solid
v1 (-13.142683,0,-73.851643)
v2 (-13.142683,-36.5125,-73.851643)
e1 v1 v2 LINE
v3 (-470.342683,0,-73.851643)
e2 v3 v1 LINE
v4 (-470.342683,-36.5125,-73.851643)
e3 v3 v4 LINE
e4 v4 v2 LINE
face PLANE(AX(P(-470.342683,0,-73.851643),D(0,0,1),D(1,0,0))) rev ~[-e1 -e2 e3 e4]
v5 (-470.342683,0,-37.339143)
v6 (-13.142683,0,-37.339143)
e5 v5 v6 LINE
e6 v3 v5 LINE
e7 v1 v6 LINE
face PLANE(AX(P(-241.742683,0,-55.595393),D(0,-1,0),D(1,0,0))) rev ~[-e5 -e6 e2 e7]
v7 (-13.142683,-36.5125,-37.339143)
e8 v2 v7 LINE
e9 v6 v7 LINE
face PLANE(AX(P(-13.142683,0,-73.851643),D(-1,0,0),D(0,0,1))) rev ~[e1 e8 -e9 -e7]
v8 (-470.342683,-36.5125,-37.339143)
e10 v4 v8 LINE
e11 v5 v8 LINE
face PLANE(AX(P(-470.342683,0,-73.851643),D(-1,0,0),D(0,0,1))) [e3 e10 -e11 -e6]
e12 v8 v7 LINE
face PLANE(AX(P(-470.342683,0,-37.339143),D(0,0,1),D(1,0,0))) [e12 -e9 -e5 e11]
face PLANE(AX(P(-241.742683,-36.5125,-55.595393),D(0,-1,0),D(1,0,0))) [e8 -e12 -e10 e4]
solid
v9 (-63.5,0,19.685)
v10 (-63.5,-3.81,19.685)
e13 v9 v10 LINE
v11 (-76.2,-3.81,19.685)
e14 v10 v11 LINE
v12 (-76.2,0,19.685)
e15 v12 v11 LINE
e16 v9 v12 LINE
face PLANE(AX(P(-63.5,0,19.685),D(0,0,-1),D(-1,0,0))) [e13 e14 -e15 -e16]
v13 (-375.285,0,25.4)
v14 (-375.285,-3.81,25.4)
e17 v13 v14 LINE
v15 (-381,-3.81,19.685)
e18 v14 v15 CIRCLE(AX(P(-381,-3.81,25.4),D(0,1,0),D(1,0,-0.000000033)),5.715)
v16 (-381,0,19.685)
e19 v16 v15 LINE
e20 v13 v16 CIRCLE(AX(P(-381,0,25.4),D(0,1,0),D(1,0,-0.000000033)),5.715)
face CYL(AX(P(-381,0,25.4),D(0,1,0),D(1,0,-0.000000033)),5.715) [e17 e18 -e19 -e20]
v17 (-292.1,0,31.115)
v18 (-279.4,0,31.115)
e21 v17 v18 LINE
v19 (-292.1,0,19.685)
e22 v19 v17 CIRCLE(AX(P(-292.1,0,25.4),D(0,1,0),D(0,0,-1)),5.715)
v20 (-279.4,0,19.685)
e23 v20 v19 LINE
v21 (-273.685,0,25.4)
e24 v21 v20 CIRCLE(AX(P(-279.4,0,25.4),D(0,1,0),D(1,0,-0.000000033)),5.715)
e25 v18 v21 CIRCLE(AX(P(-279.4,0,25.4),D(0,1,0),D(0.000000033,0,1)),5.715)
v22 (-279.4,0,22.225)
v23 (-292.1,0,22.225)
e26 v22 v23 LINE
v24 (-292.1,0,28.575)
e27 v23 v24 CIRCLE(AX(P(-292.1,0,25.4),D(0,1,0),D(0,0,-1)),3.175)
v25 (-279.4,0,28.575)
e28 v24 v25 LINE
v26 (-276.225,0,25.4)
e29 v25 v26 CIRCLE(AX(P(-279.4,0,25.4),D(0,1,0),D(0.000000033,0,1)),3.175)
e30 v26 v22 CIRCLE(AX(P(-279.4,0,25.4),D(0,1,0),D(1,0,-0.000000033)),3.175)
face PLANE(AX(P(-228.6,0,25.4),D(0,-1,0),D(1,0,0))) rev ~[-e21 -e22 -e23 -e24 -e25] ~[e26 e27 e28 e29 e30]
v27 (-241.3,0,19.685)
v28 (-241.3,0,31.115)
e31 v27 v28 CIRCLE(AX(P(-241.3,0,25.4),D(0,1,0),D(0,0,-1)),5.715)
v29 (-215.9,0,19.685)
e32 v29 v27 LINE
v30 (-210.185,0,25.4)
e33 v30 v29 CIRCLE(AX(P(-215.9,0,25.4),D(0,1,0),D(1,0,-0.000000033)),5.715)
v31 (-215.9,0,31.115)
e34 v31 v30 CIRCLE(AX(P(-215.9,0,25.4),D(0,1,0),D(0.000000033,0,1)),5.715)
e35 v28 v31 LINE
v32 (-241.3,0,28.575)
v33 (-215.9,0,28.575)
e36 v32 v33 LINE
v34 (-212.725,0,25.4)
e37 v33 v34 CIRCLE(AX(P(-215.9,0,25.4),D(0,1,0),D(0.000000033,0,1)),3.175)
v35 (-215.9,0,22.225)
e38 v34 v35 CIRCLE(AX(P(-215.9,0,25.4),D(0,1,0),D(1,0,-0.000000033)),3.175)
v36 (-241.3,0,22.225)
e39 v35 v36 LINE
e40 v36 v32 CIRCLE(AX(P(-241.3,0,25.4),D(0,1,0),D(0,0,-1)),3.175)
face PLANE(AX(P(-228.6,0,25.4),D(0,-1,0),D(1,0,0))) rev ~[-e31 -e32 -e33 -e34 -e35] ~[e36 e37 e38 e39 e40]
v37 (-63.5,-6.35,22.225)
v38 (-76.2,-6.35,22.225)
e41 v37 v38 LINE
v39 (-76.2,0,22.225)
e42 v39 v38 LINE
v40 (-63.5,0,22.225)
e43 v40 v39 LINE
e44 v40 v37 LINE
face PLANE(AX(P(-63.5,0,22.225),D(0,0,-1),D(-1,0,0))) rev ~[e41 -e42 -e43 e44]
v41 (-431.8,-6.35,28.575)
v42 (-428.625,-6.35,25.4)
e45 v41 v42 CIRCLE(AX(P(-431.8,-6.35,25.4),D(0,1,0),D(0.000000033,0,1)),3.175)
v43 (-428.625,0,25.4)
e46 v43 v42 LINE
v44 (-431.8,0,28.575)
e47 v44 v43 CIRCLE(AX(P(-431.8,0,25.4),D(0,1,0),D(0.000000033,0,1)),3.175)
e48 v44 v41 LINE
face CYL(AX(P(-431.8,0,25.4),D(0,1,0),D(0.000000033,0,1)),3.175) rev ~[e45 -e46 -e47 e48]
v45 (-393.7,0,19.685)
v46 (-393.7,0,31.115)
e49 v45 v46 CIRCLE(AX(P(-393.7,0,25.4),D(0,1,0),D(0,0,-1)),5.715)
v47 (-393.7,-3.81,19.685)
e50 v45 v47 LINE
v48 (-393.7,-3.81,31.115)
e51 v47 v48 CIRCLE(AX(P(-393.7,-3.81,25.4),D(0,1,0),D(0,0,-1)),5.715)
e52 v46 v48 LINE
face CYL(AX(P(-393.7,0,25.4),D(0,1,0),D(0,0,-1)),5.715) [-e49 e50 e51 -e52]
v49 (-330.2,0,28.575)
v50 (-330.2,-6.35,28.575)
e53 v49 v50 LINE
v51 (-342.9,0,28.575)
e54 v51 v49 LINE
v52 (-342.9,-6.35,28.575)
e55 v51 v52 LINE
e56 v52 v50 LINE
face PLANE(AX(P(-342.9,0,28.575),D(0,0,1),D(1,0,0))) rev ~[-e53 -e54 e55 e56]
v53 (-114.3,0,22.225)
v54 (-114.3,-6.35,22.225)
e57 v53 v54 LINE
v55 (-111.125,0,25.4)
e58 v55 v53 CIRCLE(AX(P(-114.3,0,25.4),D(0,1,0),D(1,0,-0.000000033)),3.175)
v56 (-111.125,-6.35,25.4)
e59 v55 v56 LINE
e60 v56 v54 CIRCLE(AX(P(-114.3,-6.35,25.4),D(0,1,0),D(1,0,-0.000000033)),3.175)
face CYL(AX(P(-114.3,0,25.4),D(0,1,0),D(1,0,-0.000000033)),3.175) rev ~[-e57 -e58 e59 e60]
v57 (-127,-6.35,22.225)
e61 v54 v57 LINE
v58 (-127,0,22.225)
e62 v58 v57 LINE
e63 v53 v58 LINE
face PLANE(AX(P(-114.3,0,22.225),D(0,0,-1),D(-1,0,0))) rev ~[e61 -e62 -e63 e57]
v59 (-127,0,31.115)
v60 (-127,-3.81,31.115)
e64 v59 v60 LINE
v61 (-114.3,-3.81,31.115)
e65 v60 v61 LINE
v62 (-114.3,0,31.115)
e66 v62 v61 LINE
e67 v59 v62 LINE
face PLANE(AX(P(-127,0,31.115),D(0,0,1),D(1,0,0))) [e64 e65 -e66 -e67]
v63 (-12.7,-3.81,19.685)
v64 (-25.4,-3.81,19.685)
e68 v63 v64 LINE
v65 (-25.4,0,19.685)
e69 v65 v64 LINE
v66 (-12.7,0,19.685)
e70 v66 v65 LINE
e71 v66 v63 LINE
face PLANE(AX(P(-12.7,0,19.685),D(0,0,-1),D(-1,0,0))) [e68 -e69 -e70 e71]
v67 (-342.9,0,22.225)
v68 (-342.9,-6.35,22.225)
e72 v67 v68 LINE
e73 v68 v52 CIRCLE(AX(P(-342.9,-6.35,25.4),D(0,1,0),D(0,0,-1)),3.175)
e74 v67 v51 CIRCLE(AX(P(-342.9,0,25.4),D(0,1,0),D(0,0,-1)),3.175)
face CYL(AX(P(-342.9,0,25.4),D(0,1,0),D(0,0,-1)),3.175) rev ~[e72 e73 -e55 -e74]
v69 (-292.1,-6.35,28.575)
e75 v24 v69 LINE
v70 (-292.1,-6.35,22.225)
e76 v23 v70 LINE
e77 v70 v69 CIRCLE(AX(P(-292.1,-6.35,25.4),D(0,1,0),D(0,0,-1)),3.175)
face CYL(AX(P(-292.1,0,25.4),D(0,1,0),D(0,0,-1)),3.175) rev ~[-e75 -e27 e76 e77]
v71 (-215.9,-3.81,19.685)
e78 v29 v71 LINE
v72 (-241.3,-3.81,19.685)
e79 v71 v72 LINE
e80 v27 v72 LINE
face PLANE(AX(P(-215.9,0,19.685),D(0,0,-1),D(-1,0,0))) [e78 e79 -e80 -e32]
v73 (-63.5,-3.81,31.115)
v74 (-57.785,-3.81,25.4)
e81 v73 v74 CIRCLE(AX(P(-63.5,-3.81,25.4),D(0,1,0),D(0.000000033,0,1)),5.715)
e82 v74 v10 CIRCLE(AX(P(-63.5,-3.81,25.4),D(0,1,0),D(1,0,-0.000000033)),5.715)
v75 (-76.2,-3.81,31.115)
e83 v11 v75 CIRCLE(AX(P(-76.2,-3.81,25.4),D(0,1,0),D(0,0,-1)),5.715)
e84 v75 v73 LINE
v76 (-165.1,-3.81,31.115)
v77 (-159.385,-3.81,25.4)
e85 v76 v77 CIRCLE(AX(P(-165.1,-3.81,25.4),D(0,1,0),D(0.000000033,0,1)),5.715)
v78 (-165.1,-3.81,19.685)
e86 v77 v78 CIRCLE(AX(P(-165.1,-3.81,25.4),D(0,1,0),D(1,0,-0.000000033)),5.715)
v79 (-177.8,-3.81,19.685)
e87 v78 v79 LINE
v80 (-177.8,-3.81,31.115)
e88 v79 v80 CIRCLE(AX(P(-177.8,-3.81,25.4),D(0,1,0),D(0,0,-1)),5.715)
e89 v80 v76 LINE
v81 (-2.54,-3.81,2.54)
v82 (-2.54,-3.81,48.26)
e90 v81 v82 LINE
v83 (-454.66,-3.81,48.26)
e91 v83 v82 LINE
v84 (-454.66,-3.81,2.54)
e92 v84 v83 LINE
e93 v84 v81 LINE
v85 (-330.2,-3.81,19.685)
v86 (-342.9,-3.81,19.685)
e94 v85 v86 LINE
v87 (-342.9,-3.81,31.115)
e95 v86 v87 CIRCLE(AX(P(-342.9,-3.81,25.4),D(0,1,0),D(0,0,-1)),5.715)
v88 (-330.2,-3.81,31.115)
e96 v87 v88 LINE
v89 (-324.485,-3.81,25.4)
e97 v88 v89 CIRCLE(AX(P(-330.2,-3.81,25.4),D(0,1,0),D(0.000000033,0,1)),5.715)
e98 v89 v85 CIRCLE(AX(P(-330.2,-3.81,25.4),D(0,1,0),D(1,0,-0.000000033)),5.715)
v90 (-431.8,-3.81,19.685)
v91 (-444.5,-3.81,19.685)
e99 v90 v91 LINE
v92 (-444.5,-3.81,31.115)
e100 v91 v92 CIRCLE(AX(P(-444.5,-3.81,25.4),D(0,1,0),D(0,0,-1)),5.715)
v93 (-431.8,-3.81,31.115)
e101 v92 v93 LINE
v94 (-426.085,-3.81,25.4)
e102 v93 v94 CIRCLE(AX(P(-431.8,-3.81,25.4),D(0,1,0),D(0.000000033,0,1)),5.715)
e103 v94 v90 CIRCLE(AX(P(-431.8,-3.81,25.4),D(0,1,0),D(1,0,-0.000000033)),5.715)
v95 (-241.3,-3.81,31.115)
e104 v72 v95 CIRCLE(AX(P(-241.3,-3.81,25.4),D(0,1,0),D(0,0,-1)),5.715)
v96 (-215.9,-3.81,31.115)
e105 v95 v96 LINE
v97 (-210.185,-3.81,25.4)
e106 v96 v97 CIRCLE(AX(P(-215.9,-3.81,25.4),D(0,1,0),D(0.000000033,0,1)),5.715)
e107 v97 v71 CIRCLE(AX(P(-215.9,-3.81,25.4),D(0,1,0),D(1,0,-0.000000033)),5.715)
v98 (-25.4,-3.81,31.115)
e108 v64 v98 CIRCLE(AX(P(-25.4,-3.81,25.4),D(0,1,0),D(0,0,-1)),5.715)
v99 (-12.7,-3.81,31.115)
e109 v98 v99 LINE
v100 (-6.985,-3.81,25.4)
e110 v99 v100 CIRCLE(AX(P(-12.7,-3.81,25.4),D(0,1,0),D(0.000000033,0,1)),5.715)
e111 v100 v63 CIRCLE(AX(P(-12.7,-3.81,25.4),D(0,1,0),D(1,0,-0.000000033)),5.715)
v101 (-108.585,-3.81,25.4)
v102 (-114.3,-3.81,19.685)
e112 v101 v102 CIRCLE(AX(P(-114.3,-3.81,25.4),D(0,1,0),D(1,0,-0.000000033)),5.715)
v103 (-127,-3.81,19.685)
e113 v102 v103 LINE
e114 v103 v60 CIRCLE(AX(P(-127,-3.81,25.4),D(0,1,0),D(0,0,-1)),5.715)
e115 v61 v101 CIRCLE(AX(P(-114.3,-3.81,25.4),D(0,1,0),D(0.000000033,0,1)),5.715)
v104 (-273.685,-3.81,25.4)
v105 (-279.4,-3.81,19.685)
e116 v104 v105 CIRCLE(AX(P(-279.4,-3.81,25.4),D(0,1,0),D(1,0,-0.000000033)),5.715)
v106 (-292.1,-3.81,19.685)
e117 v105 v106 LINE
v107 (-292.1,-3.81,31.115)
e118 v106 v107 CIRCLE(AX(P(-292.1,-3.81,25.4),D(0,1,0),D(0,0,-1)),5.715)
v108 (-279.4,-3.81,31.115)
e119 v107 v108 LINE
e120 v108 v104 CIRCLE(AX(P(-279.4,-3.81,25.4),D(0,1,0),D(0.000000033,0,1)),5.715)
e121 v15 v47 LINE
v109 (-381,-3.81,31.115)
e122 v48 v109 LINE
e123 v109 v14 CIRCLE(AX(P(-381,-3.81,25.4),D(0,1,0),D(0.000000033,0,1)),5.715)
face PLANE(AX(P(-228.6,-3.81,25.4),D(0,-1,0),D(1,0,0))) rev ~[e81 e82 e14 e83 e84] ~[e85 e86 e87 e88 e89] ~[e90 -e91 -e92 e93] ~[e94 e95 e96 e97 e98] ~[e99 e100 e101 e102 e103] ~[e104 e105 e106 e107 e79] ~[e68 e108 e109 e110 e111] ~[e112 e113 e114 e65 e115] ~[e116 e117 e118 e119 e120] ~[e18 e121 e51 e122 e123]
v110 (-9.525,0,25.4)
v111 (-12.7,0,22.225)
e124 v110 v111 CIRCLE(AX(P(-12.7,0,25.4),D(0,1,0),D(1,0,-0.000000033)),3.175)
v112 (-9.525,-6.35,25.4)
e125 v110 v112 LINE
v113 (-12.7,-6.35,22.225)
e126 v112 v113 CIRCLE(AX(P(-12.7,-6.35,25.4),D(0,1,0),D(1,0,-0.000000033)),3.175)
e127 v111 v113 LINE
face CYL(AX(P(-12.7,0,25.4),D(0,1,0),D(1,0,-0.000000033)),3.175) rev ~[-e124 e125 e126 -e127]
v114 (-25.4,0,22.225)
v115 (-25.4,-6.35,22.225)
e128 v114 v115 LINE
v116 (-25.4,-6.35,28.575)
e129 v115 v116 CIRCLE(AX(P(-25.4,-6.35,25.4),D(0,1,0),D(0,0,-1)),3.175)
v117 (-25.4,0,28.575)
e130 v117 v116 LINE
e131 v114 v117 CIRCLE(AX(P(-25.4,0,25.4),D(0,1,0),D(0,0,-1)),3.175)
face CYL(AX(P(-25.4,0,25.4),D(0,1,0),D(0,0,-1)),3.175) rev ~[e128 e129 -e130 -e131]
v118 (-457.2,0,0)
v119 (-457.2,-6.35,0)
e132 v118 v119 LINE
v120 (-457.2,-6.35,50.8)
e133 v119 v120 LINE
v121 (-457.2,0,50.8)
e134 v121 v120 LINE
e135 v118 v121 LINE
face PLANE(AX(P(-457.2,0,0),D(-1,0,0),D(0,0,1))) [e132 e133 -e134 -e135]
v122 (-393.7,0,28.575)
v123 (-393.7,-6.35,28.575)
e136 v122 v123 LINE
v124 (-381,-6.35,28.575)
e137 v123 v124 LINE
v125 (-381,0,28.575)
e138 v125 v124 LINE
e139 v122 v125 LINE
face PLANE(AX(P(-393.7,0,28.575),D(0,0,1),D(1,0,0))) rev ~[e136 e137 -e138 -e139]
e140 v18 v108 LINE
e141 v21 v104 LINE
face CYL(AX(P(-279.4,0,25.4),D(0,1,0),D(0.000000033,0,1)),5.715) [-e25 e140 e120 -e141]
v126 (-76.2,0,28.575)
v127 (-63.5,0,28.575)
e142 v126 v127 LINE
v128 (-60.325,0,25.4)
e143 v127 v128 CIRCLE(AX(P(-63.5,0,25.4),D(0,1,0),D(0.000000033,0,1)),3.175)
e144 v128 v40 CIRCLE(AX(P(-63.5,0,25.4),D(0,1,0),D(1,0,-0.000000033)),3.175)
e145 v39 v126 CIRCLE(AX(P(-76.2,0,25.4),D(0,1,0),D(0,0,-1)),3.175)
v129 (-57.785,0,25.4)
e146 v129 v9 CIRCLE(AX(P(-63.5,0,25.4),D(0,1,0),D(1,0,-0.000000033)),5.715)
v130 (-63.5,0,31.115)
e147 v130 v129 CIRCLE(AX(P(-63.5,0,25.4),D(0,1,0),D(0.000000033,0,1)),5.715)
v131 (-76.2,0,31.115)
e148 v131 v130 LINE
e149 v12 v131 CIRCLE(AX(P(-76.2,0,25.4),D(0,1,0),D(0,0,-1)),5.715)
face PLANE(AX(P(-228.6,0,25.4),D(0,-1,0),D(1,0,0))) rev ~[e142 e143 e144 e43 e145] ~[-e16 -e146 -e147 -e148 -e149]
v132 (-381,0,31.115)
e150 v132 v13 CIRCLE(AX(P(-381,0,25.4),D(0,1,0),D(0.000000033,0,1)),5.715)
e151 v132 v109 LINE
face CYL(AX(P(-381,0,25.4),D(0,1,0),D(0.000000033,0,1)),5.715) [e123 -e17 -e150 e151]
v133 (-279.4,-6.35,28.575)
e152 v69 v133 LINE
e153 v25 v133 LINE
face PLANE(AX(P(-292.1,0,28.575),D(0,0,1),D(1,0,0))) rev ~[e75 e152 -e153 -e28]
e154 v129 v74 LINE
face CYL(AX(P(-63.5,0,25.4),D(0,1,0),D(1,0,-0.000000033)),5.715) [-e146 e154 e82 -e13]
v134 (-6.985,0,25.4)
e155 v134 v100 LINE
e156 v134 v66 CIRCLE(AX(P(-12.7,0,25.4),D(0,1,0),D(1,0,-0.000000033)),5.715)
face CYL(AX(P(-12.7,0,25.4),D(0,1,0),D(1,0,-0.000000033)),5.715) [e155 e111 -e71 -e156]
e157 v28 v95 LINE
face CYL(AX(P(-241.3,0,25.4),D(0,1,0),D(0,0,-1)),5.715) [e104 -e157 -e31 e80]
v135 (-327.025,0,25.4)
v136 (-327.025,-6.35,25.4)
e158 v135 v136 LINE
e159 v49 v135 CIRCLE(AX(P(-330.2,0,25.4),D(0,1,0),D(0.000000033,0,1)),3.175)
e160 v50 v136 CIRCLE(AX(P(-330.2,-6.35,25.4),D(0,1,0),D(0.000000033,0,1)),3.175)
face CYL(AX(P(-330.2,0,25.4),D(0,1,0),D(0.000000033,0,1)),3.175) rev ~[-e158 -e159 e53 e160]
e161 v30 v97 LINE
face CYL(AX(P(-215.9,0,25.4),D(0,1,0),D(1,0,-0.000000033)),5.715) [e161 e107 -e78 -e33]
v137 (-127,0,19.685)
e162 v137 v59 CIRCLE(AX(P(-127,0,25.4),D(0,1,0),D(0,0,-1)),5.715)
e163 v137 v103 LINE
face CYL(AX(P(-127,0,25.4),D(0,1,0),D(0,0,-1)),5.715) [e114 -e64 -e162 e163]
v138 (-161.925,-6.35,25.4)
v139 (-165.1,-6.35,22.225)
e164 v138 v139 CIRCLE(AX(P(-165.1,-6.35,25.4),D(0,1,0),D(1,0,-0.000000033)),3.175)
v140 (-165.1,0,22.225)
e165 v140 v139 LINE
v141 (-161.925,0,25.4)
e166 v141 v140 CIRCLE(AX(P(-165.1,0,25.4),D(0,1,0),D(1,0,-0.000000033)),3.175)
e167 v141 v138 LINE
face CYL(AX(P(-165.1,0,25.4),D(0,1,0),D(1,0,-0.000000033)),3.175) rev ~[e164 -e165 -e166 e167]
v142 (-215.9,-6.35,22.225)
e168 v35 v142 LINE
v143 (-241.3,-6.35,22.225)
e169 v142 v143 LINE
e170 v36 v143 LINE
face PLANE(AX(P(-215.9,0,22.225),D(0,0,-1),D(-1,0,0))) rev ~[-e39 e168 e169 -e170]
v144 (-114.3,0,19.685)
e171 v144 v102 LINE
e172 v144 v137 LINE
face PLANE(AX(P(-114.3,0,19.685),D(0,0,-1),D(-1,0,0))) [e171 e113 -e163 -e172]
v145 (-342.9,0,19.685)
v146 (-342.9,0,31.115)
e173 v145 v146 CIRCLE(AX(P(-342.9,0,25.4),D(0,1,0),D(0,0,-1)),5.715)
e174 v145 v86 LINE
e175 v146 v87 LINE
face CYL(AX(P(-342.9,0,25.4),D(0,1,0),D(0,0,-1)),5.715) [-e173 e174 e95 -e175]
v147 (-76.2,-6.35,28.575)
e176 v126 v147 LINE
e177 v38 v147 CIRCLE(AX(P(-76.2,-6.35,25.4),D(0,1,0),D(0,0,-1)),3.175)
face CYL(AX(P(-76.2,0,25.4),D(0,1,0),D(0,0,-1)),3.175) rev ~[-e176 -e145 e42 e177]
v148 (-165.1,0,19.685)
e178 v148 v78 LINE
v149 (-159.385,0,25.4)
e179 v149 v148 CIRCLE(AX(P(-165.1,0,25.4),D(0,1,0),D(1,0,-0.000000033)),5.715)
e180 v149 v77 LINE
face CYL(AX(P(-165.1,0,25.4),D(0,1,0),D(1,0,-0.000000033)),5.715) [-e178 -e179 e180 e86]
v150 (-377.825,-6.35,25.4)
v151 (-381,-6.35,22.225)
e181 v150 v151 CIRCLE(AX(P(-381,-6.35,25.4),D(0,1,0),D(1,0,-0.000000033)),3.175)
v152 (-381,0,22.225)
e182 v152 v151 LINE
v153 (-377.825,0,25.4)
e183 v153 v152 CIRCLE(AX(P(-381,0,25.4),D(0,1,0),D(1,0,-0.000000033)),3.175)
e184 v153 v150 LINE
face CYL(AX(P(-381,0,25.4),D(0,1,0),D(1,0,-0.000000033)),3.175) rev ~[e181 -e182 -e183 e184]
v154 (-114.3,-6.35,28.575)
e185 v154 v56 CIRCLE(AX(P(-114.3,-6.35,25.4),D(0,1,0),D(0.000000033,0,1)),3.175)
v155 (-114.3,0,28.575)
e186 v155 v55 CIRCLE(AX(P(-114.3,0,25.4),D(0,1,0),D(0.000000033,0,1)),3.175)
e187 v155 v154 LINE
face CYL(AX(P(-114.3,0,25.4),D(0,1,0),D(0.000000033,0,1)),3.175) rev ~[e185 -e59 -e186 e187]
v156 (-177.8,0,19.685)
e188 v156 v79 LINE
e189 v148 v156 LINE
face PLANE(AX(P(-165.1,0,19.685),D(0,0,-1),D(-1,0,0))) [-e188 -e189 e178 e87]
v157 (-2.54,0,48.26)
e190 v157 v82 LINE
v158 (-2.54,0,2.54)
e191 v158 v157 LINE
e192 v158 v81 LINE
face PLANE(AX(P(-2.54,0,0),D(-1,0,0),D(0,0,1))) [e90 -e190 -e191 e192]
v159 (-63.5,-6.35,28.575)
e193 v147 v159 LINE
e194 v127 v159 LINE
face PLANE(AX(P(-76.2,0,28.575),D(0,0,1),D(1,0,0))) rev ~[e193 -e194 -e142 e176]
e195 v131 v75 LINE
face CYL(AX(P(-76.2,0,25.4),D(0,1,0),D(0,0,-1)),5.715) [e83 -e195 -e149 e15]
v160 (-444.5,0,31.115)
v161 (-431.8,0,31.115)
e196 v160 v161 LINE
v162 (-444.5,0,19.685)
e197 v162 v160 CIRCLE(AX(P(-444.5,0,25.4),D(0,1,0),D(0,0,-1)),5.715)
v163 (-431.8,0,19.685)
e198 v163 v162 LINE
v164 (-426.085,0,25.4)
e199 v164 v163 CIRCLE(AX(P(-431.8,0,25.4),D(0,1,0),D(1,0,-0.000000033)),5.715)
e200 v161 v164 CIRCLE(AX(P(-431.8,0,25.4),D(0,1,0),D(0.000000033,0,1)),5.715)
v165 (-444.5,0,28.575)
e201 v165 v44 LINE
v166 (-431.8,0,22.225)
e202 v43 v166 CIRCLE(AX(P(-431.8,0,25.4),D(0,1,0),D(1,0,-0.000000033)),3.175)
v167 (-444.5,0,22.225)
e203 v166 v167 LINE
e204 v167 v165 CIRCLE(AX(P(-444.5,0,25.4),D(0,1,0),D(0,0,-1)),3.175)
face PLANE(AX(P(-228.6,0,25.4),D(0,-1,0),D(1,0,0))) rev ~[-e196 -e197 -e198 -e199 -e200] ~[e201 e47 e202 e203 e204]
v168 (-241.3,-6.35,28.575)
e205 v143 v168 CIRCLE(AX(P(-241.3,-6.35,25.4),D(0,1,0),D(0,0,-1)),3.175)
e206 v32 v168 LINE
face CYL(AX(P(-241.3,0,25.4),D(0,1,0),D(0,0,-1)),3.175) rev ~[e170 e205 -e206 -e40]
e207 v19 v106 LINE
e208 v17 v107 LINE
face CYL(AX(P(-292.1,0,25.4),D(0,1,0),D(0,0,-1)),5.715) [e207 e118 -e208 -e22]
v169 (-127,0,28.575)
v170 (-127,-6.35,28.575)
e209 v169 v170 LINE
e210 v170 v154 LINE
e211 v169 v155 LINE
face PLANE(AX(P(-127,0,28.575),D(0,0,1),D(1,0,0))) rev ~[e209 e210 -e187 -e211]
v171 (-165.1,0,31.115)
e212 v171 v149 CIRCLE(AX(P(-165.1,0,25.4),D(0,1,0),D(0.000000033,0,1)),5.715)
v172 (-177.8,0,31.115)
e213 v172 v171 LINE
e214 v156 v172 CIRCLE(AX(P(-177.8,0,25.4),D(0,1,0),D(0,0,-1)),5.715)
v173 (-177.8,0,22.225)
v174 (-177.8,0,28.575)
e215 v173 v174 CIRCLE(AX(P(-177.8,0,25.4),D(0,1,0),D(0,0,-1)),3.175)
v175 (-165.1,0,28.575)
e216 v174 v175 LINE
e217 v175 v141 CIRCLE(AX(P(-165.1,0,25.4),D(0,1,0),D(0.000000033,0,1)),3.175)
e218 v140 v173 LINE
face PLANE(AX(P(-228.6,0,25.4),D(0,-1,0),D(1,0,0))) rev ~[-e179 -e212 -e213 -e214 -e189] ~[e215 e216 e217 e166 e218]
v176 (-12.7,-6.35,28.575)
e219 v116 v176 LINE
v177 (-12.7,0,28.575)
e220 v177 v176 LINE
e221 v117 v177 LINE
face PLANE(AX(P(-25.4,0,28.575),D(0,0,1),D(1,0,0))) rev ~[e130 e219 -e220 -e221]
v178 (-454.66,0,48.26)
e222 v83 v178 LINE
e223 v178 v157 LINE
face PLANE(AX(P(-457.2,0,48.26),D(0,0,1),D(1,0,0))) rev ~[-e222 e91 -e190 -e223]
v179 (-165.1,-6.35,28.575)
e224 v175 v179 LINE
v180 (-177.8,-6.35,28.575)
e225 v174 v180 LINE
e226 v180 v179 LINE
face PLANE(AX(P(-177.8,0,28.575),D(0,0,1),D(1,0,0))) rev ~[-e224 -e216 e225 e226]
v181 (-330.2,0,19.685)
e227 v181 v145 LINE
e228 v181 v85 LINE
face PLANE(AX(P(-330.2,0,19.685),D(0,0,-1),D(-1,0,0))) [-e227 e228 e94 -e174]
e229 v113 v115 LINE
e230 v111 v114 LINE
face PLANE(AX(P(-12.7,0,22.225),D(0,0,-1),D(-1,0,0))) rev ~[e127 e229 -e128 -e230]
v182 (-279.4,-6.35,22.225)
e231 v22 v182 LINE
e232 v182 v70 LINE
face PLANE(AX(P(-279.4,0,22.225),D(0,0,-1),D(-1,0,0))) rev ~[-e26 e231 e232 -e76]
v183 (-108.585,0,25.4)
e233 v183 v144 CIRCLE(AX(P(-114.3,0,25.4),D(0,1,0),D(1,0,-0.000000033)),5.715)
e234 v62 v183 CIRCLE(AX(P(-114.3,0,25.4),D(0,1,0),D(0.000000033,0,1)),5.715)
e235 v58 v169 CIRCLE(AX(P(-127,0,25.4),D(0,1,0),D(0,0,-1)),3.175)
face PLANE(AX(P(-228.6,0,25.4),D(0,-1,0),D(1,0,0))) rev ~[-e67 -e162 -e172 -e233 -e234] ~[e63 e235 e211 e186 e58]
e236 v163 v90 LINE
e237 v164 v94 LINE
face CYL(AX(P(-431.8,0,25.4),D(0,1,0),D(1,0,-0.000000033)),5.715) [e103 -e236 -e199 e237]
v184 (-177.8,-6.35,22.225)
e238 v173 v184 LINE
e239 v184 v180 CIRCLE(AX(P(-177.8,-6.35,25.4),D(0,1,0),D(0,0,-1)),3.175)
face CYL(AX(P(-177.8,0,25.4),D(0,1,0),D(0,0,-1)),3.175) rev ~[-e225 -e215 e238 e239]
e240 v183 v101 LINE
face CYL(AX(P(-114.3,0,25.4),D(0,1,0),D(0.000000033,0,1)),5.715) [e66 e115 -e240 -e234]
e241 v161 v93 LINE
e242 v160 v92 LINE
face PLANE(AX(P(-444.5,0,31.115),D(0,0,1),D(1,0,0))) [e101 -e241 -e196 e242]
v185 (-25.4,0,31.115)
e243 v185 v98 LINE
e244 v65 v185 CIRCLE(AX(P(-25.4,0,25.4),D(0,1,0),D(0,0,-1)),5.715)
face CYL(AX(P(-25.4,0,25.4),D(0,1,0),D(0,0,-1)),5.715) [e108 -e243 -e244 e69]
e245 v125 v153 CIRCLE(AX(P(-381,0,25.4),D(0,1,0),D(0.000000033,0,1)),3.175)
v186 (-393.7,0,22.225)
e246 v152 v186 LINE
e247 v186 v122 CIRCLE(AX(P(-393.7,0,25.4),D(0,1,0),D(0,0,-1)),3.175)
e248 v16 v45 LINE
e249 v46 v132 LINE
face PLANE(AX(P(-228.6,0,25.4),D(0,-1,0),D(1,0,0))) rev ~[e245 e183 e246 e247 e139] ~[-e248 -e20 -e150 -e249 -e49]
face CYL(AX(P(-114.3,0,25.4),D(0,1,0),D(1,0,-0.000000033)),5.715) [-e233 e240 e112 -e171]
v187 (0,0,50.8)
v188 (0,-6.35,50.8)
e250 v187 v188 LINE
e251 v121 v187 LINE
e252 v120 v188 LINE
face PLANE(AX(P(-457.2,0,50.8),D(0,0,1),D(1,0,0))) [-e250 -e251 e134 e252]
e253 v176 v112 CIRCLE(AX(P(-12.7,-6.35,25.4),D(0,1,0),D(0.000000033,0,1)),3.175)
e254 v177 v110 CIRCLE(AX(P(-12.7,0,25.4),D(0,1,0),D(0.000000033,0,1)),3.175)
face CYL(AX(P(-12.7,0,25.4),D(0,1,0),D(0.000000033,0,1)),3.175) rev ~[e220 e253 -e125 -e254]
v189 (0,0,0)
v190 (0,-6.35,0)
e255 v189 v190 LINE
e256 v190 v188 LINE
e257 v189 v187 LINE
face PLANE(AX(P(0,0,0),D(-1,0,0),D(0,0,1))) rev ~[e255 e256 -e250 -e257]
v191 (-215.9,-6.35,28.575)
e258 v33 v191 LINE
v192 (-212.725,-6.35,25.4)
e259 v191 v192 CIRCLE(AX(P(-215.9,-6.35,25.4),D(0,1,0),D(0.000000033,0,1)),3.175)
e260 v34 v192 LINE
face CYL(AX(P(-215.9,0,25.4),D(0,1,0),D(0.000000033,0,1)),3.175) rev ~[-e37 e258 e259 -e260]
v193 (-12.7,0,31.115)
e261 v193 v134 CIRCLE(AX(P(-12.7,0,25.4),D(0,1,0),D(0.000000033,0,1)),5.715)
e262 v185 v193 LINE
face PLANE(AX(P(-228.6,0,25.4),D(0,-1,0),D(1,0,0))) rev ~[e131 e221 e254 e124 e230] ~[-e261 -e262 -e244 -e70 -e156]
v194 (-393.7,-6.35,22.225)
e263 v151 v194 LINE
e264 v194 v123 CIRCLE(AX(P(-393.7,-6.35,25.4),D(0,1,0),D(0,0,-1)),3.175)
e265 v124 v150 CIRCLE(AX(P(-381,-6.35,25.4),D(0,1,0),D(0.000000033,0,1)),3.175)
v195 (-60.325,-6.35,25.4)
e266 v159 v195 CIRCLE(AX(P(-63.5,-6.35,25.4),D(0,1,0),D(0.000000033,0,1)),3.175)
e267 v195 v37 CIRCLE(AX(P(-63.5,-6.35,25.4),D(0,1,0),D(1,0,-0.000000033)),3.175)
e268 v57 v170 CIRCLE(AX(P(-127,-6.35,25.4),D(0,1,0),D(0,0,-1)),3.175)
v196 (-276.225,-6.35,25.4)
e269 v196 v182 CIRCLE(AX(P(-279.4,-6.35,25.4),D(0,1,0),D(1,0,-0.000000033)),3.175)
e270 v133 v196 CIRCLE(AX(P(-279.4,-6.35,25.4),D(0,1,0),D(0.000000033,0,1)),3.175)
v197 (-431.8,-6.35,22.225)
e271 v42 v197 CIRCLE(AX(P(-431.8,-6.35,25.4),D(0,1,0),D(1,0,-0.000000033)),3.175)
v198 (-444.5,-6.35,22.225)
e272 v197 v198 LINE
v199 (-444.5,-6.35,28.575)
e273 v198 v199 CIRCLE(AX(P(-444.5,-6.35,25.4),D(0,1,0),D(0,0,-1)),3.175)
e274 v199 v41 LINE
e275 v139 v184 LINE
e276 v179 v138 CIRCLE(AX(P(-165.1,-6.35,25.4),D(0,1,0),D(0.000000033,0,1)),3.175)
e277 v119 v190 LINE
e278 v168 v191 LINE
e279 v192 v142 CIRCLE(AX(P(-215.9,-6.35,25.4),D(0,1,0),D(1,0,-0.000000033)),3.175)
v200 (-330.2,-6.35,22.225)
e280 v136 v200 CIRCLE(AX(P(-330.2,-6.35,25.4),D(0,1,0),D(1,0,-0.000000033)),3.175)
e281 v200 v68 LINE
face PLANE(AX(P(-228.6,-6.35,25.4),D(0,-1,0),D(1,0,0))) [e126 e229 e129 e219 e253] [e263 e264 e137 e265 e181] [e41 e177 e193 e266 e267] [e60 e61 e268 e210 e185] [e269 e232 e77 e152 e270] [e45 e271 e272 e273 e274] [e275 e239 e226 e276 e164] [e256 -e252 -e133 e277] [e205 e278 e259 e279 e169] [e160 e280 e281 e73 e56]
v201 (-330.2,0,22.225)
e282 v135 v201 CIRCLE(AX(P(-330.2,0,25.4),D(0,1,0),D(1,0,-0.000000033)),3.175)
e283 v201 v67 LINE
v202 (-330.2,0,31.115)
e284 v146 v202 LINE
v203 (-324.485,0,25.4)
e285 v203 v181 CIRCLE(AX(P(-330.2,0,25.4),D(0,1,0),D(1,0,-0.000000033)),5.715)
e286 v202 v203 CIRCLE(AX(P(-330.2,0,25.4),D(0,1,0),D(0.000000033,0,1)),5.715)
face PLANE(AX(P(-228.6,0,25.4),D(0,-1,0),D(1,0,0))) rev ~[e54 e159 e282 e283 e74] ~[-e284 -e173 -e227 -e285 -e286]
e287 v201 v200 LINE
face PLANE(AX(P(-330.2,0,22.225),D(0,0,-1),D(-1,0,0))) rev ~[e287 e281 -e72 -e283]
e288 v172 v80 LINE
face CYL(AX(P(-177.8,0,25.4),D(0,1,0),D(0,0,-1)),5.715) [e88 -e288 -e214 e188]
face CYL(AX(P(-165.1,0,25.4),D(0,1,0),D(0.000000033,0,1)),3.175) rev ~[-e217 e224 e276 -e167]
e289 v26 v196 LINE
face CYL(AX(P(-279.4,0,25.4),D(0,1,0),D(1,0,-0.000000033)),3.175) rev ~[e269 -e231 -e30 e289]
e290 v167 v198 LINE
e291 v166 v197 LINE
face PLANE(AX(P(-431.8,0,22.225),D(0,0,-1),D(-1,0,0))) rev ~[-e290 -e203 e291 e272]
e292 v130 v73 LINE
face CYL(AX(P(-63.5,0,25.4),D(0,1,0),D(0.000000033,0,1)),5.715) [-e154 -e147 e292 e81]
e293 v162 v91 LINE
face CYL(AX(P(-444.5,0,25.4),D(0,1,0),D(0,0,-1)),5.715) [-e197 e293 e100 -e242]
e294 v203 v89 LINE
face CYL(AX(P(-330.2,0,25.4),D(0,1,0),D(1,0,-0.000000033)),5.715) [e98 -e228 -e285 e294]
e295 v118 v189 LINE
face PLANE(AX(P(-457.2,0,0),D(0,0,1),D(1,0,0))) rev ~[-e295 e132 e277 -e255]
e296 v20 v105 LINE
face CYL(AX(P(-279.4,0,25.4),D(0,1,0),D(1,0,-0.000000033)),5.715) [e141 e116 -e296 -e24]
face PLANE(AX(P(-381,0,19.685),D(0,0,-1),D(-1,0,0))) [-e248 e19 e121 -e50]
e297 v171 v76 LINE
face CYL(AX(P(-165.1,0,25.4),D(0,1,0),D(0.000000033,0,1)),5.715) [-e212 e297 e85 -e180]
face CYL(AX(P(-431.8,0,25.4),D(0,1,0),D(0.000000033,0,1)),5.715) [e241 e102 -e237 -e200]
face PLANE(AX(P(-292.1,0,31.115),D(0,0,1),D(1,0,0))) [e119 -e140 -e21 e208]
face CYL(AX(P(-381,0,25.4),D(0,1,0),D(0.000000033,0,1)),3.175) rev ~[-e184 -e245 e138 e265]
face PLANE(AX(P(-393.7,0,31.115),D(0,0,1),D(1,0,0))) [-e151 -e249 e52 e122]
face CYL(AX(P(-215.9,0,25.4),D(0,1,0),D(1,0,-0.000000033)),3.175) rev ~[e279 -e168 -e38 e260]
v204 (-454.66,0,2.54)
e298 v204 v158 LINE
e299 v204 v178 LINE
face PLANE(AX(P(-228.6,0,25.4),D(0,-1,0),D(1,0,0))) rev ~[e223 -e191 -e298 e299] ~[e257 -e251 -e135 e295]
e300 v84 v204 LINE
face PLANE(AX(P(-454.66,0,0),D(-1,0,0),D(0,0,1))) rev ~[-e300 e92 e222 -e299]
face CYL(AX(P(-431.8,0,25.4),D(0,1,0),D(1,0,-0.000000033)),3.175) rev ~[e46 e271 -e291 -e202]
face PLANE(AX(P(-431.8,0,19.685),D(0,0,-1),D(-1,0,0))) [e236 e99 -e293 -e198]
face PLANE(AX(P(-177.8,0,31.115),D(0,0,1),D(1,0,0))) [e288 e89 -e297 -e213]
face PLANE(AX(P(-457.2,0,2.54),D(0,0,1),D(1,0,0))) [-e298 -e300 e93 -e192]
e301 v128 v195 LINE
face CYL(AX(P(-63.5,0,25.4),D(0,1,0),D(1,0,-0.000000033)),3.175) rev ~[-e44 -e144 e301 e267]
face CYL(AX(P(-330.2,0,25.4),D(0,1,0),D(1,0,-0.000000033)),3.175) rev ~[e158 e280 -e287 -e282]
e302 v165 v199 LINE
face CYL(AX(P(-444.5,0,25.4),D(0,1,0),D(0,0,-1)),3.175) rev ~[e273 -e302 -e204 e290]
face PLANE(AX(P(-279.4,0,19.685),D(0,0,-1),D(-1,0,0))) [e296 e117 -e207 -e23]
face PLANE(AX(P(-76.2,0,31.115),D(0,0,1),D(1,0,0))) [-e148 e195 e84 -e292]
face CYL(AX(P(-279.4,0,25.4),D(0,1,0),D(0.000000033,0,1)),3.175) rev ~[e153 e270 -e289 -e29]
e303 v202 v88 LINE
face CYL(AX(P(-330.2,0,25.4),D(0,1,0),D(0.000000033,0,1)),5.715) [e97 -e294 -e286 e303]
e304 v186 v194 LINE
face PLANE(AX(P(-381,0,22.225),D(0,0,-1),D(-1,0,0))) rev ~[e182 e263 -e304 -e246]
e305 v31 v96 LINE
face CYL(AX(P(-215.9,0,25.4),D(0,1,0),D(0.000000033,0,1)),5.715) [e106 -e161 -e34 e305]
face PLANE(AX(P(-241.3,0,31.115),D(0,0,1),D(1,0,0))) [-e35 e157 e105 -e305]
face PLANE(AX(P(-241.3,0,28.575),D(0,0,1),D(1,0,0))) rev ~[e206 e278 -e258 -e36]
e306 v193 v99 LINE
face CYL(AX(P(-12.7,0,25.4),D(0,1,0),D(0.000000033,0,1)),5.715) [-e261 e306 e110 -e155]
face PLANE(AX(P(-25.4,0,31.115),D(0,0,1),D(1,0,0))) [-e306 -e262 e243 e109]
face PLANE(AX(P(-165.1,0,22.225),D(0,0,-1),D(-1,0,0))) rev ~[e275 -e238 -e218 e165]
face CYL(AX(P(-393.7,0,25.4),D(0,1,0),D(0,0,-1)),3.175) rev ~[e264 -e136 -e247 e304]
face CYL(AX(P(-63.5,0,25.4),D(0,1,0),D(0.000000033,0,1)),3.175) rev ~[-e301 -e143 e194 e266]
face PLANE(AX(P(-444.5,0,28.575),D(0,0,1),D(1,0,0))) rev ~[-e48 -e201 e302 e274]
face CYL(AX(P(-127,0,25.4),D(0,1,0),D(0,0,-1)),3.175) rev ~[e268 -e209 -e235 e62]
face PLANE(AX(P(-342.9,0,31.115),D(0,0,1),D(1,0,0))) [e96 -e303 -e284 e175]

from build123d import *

# Parameters (mm, degrees)
F0_W     = 457.2
F0_H     = 50.8
F1_DEPTH = 6.35
F2_T     = -2.54
F3_W     = 457.2
F3_H     = 36.5125
F4_DEPTH = 36.5125


with BuildPart() as f1:
    # F0 (on Front) → F1 (new body)
    with BuildSketch(Plane.XZ):
        with Locations((-228.6, 25.4)):
            Rectangle(F0_W, F0_H)
        with BuildLine():
            ThreePointArc((-431.8, 28.575), (-429.554936, 27.645064), (-428.625, 25.4))
            ThreePointArc((-428.625, 25.4), (-429.554936, 23.154936), (-431.8, 22.225))
            Line((-431.8, 22.225), (-444.5, 22.225))
            ThreePointArc((-444.5, 22.225), (-447.675, 25.4), (-444.5, 28.575))
            Line((-444.5, 28.575), (-431.8, 28.575))
        make_face(mode=Mode.SUBTRACT)
        with BuildLine():
            ThreePointArc((-381, 28.575), (-378.754936, 27.645064), (-377.825, 25.4))
            ThreePointArc((-377.825, 25.4), (-378.754936, 23.154936), (-381, 22.225))
            Line((-381, 22.225), (-393.7, 22.225))
            ThreePointArc((-393.7, 22.225), (-396.875, 25.4), (-393.7, 28.575))
            Line((-393.7, 28.575), (-381, 28.575))
        make_face(mode=Mode.SUBTRACT)
        with BuildLine():
            ThreePointArc((-330.2, 28.575), (-327.954936, 27.645064), (-327.025, 25.4))
            ThreePointArc((-327.025, 25.4), (-327.954936, 23.154936), (-330.2, 22.225))
            Line((-330.2, 22.225), (-342.9, 22.225))
            ThreePointArc((-342.9, 22.225), (-346.075, 25.4), (-342.9, 28.575))
            Line((-342.9, 28.575), (-330.2, 28.575))
        make_face(mode=Mode.SUBTRACT)
        with BuildLine():
            ThreePointArc((-279.4, 28.575), (-277.154936, 27.645064), (-276.225, 25.4))
            ThreePointArc((-276.225, 25.4), (-277.154936, 23.154936), (-279.4, 22.225))
            Line((-279.4, 22.225), (-292.1, 22.225))
            ThreePointArc((-292.1, 22.225), (-295.275, 25.4), (-292.1, 28.575))
            Line((-292.1, 28.575), (-279.4, 28.575))
        make_face(mode=Mode.SUBTRACT)
        with BuildLine():
            Line((-241.3, 28.575), (-228.6, 28.575))
            Line((-228.6, 28.575), (-215.9, 28.575))
            ThreePointArc((-215.9, 28.575), (-213.654936, 27.645064), (-212.725, 25.4))
            ThreePointArc((-212.725, 25.4), (-213.654936, 23.154936), (-215.9, 22.225))
            Line((-215.9, 22.225), (-228.6, 22.225))
            Line((-228.6, 22.225), (-241.3, 22.225))
            ThreePointArc((-241.3, 22.225), (-244.475, 25.4), (-241.3, 28.575))
        make_face(mode=Mode.SUBTRACT)
        with BuildLine():
            ThreePointArc((-177.8, 22.225), (-180.975, 25.4), (-177.8, 28.575))
            Line((-177.8, 28.575), (-165.1, 28.575))
            ThreePointArc((-165.1, 28.575), (-162.854936, 27.645064), (-161.925, 25.4))
            ThreePointArc((-161.925, 25.4), (-162.854936, 23.154936), (-165.1, 22.225))
            Line((-165.1, 22.225), (-177.8, 22.225))
        make_face(mode=Mode.SUBTRACT)
        with BuildLine():
            ThreePointArc((-114.3, 28.575), (-112.054936, 27.645064), (-111.125, 25.4))
            ThreePointArc((-111.125, 25.4), (-112.054936, 23.154936), (-114.3, 22.225))
            Line((-114.3, 22.225), (-127, 22.225))
            ThreePointArc((-127, 22.225), (-130.175, 25.4), (-127, 28.575))
            Line((-127, 28.575), (-114.3, 28.575))
        make_face(mode=Mode.SUBTRACT)
        with BuildLine():
            ThreePointArc((-76.2, 22.225), (-79.375, 25.4), (-76.2, 28.575))
            Line((-76.2, 28.575), (-63.5, 28.575))
            ThreePointArc((-63.5, 28.575), (-61.254936, 27.645064), (-60.325, 25.4))
            ThreePointArc((-60.325, 25.4), (-61.254936, 23.154936), (-63.5, 22.225))
            Line((-63.5, 22.225), (-76.2, 22.225))
        make_face(mode=Mode.SUBTRACT)
        with BuildLine():
            ThreePointArc((-25.4, 22.225), (-28.575, 25.4), (-25.4, 28.575))
            Line((-25.4, 28.575), (-12.7, 28.575))
            ThreePointArc((-12.7, 28.575), (-10.454936, 27.645064), (-9.525, 25.4))
            ThreePointArc((-9.525, 25.4), (-10.454936, 23.154936), (-12.7, 22.225))
            Line((-12.7, 22.225), (-25.4, 22.225))
        make_face(mode=Mode.SUBTRACT)
    extrude(amount=F1_DEPTH)

    # F2
    f2_openings = [f1.faces().sort_by_distance(p)[0] for p in [
        (-228.6, 0, 46.199864),
    ]]
    offset(amount=F2_T, openings=f2_openings)


with BuildPart() as f4:
    # F3 (on Front) → F4 (new body)
    with BuildSketch(Plane.XZ):
        with Locations((-241.742683, -55.595393)):
            Rectangle(F3_W, F3_H)
    extrude(amount=F4_DEPTH)


solid = Compound([f1.part, f4.part])
